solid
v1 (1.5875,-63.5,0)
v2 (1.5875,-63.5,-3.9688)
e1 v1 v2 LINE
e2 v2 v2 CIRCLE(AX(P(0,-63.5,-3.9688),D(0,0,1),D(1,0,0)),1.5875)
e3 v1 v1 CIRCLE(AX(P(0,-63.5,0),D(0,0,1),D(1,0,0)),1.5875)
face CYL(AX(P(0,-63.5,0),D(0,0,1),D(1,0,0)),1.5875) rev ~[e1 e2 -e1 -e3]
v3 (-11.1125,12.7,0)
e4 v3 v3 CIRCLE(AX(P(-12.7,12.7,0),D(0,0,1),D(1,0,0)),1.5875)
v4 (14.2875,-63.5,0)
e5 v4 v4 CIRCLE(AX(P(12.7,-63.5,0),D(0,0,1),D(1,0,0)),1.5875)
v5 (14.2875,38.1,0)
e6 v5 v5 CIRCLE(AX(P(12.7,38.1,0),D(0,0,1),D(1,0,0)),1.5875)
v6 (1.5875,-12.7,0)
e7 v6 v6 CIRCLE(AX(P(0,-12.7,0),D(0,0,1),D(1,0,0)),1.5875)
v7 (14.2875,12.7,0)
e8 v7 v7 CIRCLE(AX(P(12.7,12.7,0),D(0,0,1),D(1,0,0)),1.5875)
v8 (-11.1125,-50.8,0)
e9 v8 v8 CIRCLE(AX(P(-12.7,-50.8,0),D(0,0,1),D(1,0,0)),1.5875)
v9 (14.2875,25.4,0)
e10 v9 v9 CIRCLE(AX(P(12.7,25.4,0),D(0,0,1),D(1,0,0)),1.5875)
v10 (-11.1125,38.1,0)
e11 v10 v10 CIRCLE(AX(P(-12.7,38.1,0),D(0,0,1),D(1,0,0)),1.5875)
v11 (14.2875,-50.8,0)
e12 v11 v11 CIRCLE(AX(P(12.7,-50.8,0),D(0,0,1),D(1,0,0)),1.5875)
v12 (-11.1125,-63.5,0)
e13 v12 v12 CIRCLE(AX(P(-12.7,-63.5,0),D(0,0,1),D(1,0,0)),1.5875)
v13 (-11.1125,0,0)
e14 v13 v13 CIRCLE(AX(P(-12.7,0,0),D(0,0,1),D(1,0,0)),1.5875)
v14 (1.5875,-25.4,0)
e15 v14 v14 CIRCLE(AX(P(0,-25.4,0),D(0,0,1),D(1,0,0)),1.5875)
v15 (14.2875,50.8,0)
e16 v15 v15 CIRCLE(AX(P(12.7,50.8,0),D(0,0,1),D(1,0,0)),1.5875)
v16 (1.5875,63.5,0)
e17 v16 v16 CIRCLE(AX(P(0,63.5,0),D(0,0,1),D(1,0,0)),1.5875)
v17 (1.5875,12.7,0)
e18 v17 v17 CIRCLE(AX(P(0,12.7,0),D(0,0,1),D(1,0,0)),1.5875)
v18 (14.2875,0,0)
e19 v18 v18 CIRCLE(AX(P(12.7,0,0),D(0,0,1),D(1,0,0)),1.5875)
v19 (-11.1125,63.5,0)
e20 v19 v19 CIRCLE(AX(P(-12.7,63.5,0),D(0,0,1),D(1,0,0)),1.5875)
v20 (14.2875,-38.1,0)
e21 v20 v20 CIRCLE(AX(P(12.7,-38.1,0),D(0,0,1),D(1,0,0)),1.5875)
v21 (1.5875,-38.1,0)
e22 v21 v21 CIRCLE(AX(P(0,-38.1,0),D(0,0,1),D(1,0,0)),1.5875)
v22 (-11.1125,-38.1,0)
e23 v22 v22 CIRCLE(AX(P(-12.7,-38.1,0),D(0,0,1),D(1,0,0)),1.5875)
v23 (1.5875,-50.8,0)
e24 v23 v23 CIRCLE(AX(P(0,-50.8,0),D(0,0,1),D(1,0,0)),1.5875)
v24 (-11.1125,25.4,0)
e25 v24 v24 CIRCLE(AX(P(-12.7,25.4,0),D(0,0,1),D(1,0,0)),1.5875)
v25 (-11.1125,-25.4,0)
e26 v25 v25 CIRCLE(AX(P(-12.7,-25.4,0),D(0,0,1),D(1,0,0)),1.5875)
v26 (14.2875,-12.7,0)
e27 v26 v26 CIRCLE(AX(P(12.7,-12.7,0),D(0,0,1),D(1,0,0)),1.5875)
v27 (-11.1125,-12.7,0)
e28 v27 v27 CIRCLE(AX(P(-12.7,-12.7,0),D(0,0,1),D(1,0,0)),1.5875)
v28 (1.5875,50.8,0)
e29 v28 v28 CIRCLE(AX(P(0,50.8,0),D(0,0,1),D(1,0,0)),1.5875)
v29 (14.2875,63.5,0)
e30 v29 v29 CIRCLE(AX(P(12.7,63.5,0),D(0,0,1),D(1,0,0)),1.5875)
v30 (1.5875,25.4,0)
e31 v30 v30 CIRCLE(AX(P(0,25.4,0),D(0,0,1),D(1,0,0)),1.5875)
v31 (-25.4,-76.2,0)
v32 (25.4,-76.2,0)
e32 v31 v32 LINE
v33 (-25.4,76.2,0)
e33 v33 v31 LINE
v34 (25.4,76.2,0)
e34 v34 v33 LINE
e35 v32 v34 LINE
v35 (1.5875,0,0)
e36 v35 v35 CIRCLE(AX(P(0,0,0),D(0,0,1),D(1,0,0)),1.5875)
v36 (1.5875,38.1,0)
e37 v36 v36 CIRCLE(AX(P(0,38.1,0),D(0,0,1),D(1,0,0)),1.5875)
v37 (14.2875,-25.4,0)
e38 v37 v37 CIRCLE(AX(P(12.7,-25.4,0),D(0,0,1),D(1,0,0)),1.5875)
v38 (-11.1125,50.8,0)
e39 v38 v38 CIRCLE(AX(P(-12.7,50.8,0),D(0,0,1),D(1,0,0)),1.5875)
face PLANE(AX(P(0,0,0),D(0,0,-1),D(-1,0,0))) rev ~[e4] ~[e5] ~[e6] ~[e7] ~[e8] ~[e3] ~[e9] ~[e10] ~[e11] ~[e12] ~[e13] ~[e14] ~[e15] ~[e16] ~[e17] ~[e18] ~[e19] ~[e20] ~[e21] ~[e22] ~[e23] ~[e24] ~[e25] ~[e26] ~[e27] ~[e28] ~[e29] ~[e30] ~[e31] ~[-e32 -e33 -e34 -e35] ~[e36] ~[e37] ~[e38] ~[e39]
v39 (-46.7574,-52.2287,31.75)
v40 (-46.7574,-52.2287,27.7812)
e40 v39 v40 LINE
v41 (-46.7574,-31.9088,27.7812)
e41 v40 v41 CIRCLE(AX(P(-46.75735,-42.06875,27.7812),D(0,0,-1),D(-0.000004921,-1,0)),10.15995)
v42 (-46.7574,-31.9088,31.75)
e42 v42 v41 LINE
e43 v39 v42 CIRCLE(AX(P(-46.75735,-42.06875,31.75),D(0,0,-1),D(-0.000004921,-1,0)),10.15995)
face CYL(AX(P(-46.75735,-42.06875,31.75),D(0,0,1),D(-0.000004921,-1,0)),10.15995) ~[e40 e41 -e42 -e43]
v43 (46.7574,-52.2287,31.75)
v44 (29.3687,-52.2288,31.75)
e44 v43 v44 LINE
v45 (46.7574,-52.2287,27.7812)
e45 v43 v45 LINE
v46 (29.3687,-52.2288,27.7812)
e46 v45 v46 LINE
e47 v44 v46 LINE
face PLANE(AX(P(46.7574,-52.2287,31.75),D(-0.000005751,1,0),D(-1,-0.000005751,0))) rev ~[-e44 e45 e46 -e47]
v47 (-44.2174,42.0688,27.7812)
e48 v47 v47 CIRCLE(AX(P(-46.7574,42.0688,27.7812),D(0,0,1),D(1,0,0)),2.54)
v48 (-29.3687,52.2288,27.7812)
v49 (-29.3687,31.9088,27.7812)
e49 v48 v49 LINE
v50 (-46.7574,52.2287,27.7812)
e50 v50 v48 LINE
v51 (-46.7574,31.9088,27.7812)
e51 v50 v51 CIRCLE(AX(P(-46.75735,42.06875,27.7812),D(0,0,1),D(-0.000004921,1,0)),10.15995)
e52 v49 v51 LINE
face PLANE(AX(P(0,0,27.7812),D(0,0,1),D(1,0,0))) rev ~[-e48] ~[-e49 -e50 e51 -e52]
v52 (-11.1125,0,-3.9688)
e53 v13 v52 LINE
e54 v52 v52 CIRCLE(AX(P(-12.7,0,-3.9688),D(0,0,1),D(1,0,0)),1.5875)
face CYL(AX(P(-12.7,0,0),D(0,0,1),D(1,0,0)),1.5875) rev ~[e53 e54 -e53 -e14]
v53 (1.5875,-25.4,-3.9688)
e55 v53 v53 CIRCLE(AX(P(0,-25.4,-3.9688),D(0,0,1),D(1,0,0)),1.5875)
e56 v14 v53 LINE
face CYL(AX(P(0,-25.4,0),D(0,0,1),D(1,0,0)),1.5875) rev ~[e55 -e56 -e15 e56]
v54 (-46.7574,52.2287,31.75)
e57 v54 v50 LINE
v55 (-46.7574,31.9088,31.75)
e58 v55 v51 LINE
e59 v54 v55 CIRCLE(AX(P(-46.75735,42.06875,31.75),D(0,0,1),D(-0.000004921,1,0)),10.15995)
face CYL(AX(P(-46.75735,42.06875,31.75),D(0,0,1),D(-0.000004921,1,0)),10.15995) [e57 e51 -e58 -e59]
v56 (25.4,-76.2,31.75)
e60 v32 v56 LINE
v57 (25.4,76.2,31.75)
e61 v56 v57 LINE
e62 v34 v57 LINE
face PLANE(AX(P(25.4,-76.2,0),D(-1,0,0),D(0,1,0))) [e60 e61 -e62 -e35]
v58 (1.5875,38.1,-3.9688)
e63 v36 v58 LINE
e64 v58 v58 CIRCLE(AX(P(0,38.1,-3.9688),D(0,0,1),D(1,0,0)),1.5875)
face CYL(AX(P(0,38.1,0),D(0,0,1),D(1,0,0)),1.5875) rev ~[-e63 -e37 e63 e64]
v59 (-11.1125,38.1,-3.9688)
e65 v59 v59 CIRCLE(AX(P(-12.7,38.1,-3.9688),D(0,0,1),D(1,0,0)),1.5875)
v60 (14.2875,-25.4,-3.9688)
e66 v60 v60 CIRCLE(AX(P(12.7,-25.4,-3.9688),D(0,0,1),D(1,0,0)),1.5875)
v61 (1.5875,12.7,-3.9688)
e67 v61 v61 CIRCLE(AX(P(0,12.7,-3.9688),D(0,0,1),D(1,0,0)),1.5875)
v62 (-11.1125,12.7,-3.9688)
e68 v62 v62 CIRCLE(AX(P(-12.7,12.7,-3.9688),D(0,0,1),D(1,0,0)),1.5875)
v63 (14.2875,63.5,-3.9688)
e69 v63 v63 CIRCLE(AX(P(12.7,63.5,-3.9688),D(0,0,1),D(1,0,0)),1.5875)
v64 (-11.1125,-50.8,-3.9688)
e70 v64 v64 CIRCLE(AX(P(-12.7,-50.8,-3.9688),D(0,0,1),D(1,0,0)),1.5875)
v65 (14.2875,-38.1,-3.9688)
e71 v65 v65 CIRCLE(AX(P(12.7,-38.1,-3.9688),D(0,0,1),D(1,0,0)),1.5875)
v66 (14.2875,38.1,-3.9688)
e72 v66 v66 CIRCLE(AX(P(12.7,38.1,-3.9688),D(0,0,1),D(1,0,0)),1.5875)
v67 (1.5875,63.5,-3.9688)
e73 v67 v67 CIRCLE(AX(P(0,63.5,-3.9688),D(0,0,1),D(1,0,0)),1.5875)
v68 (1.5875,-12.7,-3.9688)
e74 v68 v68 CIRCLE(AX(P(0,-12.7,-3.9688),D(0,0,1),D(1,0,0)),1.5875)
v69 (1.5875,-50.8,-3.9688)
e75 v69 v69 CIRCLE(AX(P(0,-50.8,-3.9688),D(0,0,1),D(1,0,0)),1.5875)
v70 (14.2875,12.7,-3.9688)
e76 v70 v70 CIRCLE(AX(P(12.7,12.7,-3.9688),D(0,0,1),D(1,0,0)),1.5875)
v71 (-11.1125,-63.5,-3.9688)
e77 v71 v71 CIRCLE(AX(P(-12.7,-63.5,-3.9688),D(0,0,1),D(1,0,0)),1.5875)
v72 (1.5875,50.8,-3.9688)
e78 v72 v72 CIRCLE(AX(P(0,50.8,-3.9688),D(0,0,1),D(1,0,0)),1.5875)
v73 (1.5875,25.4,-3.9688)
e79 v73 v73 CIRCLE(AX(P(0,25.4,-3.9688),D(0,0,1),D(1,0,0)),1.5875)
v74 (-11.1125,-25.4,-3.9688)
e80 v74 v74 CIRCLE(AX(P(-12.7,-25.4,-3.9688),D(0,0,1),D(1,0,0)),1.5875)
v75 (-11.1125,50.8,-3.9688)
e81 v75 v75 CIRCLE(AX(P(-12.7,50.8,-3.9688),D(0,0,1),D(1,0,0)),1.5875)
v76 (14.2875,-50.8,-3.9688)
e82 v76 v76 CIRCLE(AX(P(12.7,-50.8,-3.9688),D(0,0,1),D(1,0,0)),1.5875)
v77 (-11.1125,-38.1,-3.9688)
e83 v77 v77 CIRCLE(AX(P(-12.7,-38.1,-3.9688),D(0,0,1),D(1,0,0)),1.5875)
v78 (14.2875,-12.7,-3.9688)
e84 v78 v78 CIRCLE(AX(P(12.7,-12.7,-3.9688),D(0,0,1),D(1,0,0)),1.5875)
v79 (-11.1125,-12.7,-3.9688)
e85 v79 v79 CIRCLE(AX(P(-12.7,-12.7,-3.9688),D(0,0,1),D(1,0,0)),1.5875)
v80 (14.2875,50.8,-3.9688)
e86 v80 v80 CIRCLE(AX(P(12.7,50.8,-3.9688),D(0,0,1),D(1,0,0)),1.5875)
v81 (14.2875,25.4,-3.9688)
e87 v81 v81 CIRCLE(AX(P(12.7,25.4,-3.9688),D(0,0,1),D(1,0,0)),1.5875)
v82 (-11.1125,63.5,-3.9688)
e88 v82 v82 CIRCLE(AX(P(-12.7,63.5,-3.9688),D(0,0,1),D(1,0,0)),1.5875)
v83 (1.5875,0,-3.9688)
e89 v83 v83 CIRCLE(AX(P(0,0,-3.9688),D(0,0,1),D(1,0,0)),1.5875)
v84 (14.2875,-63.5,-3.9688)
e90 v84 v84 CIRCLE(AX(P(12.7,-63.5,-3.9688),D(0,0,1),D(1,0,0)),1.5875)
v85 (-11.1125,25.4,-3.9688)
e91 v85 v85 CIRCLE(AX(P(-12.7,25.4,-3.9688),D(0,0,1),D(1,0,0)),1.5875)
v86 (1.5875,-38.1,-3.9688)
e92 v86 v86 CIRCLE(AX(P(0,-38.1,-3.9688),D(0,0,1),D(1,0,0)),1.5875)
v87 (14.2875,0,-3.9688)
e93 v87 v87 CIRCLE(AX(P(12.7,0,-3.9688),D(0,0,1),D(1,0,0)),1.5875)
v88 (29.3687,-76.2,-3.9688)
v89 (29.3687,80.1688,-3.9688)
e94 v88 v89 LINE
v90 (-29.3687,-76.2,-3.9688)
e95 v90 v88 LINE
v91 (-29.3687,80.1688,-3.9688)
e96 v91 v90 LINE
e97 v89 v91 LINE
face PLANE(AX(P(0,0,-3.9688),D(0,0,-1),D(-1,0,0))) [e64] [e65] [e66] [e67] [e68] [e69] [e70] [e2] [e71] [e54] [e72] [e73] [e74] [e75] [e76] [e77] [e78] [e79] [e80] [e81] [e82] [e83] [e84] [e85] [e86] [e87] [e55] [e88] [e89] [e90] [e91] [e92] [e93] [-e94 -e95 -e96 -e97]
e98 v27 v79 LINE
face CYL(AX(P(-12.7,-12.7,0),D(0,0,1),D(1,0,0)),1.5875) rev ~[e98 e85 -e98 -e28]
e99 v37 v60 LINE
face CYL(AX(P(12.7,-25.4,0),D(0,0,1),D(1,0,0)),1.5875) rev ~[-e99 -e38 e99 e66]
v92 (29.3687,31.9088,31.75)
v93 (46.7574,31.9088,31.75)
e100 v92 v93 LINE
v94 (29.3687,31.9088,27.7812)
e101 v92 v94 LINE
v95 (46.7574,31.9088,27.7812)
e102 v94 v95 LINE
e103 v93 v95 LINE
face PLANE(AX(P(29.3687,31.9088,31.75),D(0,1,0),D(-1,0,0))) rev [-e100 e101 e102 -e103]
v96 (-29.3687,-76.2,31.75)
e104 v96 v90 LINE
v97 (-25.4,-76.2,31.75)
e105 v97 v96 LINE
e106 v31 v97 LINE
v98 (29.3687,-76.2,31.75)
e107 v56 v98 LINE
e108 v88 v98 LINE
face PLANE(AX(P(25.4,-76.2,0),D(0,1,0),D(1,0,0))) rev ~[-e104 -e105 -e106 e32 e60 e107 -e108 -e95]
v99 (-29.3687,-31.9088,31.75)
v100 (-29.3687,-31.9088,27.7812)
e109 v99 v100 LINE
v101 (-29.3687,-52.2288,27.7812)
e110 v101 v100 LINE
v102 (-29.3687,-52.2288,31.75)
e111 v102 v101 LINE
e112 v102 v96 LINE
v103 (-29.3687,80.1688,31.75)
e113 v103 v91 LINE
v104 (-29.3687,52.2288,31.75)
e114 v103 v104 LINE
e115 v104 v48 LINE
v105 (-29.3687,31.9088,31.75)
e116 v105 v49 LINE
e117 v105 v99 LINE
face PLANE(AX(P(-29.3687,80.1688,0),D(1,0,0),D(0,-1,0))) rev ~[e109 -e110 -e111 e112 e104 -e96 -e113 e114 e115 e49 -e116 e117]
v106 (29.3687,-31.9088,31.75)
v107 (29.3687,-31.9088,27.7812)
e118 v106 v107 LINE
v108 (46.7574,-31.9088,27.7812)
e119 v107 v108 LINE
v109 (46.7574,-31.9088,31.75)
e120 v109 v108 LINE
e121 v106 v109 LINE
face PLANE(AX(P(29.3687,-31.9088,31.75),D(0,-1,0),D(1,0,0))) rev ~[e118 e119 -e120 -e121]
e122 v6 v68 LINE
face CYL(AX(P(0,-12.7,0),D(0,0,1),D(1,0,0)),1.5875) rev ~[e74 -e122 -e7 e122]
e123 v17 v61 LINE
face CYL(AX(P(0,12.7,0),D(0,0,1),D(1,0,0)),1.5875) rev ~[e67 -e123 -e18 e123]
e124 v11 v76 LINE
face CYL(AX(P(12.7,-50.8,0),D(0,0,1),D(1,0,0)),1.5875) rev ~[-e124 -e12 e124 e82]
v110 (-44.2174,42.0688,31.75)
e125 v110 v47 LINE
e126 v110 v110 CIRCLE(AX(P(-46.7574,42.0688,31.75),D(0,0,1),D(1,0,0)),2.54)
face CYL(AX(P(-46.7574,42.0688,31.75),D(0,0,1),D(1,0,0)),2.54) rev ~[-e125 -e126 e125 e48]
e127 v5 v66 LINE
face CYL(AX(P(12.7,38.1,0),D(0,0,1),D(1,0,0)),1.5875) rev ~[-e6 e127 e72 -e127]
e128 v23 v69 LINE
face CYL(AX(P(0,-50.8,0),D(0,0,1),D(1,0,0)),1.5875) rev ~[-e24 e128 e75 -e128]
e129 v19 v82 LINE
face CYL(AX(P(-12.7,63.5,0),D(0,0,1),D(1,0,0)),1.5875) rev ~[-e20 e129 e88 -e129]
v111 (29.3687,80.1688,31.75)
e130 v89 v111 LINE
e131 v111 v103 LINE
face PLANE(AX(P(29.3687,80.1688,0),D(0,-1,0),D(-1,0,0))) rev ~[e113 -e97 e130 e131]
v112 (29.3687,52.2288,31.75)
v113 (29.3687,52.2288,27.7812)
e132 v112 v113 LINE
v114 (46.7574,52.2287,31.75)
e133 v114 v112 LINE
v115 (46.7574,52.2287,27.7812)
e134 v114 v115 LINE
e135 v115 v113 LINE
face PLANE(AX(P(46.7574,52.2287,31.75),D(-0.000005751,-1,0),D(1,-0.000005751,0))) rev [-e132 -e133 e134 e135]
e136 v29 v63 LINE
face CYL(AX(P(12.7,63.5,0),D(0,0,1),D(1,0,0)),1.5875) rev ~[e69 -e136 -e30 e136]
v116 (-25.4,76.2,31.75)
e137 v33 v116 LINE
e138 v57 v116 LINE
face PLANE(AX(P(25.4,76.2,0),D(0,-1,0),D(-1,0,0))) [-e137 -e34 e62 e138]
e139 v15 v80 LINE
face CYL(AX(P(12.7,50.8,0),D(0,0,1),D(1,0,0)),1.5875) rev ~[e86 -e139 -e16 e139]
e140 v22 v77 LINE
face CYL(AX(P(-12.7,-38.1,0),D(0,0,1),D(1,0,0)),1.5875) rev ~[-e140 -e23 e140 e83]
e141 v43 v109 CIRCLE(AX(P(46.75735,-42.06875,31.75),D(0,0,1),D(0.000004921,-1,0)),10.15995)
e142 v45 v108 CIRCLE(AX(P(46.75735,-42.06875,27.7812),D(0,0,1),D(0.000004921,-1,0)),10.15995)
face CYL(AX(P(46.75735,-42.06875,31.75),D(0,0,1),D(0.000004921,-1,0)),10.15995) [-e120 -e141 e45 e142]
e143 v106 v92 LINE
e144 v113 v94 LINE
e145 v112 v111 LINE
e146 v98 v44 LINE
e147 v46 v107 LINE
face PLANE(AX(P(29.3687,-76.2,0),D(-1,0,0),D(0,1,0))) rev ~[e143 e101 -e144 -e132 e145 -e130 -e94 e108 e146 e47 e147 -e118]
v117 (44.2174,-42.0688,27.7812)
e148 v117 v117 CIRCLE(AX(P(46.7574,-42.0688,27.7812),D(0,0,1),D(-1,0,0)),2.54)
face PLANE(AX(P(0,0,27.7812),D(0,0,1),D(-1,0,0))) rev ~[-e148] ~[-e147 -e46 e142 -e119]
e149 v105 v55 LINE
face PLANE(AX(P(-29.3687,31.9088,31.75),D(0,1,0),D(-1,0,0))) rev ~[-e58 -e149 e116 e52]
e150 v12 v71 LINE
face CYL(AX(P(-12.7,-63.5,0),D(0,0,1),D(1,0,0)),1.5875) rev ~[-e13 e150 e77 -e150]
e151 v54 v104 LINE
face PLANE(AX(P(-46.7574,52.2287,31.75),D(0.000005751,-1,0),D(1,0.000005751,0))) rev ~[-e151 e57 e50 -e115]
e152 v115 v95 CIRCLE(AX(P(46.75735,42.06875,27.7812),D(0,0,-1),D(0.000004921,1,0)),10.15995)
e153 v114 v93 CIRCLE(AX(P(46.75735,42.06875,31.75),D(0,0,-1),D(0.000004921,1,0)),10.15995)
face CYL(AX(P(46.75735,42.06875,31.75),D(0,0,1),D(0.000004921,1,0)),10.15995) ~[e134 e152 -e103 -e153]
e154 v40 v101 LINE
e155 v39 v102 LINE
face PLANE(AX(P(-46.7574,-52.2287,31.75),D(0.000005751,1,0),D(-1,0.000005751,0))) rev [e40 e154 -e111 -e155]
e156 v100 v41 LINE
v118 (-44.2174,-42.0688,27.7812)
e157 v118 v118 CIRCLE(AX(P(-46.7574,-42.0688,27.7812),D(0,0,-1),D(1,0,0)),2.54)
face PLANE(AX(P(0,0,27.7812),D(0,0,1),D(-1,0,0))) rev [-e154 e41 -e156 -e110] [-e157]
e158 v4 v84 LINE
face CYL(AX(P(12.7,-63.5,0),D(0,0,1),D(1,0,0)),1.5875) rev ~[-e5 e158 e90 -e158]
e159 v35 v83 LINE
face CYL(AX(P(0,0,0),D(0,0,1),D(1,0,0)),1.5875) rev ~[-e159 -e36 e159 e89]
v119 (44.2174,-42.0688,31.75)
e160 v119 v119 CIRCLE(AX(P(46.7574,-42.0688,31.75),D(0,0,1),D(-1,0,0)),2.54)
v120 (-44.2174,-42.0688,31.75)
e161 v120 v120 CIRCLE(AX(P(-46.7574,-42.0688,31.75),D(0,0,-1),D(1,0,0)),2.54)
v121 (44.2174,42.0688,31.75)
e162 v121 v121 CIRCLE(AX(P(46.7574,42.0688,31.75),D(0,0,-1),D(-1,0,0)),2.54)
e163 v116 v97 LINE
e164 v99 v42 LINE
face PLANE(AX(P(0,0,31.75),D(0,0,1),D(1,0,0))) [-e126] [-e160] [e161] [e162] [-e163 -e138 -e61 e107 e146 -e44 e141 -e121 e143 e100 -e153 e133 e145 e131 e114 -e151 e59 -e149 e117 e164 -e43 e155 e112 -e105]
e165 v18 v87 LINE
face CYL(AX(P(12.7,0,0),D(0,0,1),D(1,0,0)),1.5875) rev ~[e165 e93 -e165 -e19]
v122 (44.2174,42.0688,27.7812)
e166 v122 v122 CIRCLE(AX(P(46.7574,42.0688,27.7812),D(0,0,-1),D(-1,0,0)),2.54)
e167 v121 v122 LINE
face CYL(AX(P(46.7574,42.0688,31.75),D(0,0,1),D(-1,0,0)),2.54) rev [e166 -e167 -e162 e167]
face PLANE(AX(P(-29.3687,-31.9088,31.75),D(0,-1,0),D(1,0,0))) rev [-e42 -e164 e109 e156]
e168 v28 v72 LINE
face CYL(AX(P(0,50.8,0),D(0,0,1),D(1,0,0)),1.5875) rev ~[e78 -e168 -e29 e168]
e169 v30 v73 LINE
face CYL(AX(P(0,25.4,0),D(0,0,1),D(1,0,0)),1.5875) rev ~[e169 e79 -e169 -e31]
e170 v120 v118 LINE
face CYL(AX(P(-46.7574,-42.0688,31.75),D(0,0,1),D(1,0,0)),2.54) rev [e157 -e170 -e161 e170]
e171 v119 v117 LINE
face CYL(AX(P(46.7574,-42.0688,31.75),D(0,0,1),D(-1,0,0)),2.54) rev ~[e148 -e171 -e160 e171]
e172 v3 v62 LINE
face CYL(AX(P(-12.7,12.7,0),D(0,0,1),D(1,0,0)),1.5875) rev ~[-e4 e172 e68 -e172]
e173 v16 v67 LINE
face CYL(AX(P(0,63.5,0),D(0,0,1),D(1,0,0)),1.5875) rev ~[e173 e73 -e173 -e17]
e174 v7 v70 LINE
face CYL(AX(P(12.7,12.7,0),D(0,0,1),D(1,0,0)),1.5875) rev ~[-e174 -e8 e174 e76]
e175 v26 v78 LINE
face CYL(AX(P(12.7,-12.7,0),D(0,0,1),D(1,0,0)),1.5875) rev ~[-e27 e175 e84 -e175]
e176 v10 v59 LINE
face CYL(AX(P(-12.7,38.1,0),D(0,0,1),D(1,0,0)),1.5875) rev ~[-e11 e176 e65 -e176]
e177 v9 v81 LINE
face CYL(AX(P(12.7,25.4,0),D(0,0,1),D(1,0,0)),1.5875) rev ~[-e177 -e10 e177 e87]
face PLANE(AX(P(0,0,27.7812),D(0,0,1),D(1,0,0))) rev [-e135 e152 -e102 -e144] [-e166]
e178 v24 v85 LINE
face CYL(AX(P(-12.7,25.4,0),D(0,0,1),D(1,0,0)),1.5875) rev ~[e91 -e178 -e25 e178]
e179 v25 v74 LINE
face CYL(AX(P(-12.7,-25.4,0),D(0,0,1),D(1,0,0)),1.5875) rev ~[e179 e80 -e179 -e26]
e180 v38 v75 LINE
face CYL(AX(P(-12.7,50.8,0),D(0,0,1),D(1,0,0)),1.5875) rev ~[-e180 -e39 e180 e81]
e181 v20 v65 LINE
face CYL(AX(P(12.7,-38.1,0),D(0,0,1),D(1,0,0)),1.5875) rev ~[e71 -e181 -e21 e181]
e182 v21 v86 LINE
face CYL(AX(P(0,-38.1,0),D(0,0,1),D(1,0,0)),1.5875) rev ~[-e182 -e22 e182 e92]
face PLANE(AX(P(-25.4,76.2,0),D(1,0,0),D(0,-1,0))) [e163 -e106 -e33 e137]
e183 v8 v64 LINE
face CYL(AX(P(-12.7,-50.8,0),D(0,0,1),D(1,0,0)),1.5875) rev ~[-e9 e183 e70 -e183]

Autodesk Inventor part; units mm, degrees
ref_plane "YZ Plane" through (0, 0, 0) normal (1, 0, 0) x (0, 1, 0)
ref_plane "XZ Plane" through (0, 0, 0) normal (0, 1, 0) x (-1, 0, 0)
ref_plane "XY Plane" through (0, 0, 0) normal (0, 0, 1) x (1, 0, 0)
sketch "Sketch1" plane through (0, 0, 0) normal (0, 0, 1) x (1, 0, 0)
  line L0 (25.4, -76.2) -> (25.4, 76.2)
  line L1 (25.4, 76.2) -> (-25.4, 76.2)
  line L2 (-25.4, 76.2) -> (-25.4, -76.2)
  line L3 (-25.4, -76.2) -> (25.4, 76.2) construction
  line L4 (25.4, -76.2) -> (-25.4, 76.2) construction
  line L5 (29.3687, -76.2) -> (29.3687, 80.1688)
  line L6 (29.3687, 80.1688) -> (-29.3687, 80.1688)
  line L7 (-29.3687, 80.1688) -> (-29.3687, -76.2)
  line L8 (-29.3687, -80.1688) -> (29.3687, 80.1688) construction
  line L9 (29.3687, -80.1688) -> (-29.3687, 80.1688) construction
  line L10 (-25.4, -76.2) -> (-29.3687, -76.2)
  line L11 (25.4, -76.2) -> (29.3687, -76.2)
  point P0 (0, 0)
  dimension "d2" = 3.9688
  dimension "d3" = 3.9688
  dimension "d5" = 50.8
  dimension "d6" = 152.4
extrude "Extrusion1" add sketch "Sketch1" along normal blind 31.75
sketch "Sketch2" plane through (0, 0, 0) normal (0, 0, -1) x (-1, 0, 0)
  line L0 (-29.3687, -76.2) -> (-29.3687, 80.1688) projected
  line L1 (29.3687, 80.1688) -> (29.3687, -76.2) projected
  line L2 (-29.3687, 80.1688) -> (29.3687, 80.1688)
  line L3 (29.3687, 80.1688) -> (29.3687, -76.2)
  line L4 (29.3687, -76.2) -> (-29.3687, -76.2)
  line L5 (-29.3687, -76.2) -> (-29.3687, 80.1688)
  point P0 (0, 0)
extrude "Extrusion2" add sketch "Sketch2" along normal blind 3.9688
sketch "Sketch5" plane through (0, 0, 31.75) normal (0, 0, 1) x (1, 0, 0)
  line L0 (-29.3687, 80.1688) -> (-29.3687, -76.2)
  line L1 (-29.3687, 42.0688) -> (-46.7574, 42.0688) construction
  line L2 (-29.3687, 31.9088) -> (-46.7574, 31.9088)
  line L3 (-46.7574, 52.2287) -> (-29.3687, 52.2288)
  arc A0 (-46.7574, 52.2287) -> (-46.7574, 31.9088) centre (-46.7574, 42.0688) ccw
  line L4 (29.3687, 80.1688) -> (-29.3687, 80.1688)
  circle A1 centre (-46.7574, 42.0688) radius 2.54
  point P0 (0, 0)
  dimension "d18" = 10.16
  dimension "d21" = 5.08
extrude "Extrusion4" add sketch "Sketch5" against normal blind 3.9688
mirror "Mirror1" about plane through (0, 0, 0) normal (1, 0, 0) of "Extrusion4"
mirror "Mirror2" about plane through (0, 0, 0) normal (0, 1, 0) of "Extrusion4", "Mirror1"
sketch "Sketch6" plane through (0, 0, 0) normal (0, 0, 1) x (1, 0, 0)
  circle A0 centre (-12.7, -63.5) radius 1.5875
  line L0 (-25.4, -76.2) -> (-25.4, 76.2) projected
  line L1 (-25.4, -76.2) -> (25.4, -76.2) construction
  line L2 (-12.7, -63.5) -> (-12.7, 76.2) construction
  line L3 (-25.4, 76.2) -> (25.4, 76.2) construction
  line L4 (-12.7, -63.5) -> (25.4, -63.5) construction
  circle A1 centre (-12.7, -50.8) radius 1.5875
  circle A2 centre (-12.7, -38.1) radius 1.5875
  circle A3 centre (-12.7, -25.4) radius 1.5875
  circle A4 centre (-12.7, -12.7) radius 1.5875
  circle A5 centre (-12.7, 0) radius 1.5875
  circle A6 centre (-12.7, 12.7) radius 1.5875
  circle A7 centre (-12.7, 25.4) radius 1.5875
  circle A8 centre (-12.7, 38.1) radius 1.5875
  circle A9 centre (-12.7, 50.8) radius 1.5875
  circle A10 centre (-12.7, 63.5) radius 1.5875
  circle A11 centre (0, -63.5) radius 1.5875
  circle A12 centre (0, -50.8) radius 1.5875
  circle A13 centre (0, -38.1) radius 1.5875
  circle A14 centre (0, -25.4) radius 1.5875
  circle A15 centre (0, -12.7) radius 1.5875
  circle A16 centre (0, 0) radius 1.5875
  circle A17 centre (0, 12.7) radius 1.5875
  circle A18 centre (0, 25.4) radius 1.5875
  circle A19 centre (0, 38.1) radius 1.5875
  circle A20 centre (0, 50.8) radius 1.5875
  circle A21 centre (0, 63.5) radius 1.5875
  circle A22 centre (12.7, -63.5) radius 1.5875
  circle A23 centre (12.7, -50.8) radius 1.5875
  circle A24 centre (12.7, -38.1) radius 1.5875
  circle A25 centre (12.7, -25.4) radius 1.5875
  circle A26 centre (12.7, -12.7) radius 1.5875
  circle A27 centre (12.7, 0) radius 1.5875
  circle A28 centre (12.7, 12.7) radius 1.5875
  circle A29 centre (12.7, 25.4) radius 1.5875
  circle A30 centre (12.7, 38.1) radius 1.5875
  circle A31 centre (12.7, 50.8) radius 1.5875
  circle A32 centre (12.7, 63.5) radius 1.5875
  dimension "d24" = 3.175
  dimension "d25" = 12.7
  dimension "d26" = 12.7
  dimension "d29" = 12.7
  dimension "d32" = 12.7
extrude "Extrusion5" cut sketch "Sketch6" against normal through all
equation "\"d2\" = wallThickness"
equation "\"d3\" = wallThickness"
equation "\"d5\" = interiorWidth"
equation "\"d6\" = interiorHeight"
equation "\"d7\" = interiorDepth"
equation "\"d9\" = wallThickness"
equation "\"d18\" = tabWidth"
equation "\"d21\" = screwHole"
equation "\"d22\" = wallThickness"
equation "\"interiorWidth\" = 50.8"
equation "\"interiorHeight\" = 152.4"
equation "\"wallThickness\" = 3.96875"
equation "\"interiorDepth\" = 31.75"
equation "\"screwHole\" = 5.08"
equation "\"tabWidth\" = 10.16"
properties part number "thermometerCover"
